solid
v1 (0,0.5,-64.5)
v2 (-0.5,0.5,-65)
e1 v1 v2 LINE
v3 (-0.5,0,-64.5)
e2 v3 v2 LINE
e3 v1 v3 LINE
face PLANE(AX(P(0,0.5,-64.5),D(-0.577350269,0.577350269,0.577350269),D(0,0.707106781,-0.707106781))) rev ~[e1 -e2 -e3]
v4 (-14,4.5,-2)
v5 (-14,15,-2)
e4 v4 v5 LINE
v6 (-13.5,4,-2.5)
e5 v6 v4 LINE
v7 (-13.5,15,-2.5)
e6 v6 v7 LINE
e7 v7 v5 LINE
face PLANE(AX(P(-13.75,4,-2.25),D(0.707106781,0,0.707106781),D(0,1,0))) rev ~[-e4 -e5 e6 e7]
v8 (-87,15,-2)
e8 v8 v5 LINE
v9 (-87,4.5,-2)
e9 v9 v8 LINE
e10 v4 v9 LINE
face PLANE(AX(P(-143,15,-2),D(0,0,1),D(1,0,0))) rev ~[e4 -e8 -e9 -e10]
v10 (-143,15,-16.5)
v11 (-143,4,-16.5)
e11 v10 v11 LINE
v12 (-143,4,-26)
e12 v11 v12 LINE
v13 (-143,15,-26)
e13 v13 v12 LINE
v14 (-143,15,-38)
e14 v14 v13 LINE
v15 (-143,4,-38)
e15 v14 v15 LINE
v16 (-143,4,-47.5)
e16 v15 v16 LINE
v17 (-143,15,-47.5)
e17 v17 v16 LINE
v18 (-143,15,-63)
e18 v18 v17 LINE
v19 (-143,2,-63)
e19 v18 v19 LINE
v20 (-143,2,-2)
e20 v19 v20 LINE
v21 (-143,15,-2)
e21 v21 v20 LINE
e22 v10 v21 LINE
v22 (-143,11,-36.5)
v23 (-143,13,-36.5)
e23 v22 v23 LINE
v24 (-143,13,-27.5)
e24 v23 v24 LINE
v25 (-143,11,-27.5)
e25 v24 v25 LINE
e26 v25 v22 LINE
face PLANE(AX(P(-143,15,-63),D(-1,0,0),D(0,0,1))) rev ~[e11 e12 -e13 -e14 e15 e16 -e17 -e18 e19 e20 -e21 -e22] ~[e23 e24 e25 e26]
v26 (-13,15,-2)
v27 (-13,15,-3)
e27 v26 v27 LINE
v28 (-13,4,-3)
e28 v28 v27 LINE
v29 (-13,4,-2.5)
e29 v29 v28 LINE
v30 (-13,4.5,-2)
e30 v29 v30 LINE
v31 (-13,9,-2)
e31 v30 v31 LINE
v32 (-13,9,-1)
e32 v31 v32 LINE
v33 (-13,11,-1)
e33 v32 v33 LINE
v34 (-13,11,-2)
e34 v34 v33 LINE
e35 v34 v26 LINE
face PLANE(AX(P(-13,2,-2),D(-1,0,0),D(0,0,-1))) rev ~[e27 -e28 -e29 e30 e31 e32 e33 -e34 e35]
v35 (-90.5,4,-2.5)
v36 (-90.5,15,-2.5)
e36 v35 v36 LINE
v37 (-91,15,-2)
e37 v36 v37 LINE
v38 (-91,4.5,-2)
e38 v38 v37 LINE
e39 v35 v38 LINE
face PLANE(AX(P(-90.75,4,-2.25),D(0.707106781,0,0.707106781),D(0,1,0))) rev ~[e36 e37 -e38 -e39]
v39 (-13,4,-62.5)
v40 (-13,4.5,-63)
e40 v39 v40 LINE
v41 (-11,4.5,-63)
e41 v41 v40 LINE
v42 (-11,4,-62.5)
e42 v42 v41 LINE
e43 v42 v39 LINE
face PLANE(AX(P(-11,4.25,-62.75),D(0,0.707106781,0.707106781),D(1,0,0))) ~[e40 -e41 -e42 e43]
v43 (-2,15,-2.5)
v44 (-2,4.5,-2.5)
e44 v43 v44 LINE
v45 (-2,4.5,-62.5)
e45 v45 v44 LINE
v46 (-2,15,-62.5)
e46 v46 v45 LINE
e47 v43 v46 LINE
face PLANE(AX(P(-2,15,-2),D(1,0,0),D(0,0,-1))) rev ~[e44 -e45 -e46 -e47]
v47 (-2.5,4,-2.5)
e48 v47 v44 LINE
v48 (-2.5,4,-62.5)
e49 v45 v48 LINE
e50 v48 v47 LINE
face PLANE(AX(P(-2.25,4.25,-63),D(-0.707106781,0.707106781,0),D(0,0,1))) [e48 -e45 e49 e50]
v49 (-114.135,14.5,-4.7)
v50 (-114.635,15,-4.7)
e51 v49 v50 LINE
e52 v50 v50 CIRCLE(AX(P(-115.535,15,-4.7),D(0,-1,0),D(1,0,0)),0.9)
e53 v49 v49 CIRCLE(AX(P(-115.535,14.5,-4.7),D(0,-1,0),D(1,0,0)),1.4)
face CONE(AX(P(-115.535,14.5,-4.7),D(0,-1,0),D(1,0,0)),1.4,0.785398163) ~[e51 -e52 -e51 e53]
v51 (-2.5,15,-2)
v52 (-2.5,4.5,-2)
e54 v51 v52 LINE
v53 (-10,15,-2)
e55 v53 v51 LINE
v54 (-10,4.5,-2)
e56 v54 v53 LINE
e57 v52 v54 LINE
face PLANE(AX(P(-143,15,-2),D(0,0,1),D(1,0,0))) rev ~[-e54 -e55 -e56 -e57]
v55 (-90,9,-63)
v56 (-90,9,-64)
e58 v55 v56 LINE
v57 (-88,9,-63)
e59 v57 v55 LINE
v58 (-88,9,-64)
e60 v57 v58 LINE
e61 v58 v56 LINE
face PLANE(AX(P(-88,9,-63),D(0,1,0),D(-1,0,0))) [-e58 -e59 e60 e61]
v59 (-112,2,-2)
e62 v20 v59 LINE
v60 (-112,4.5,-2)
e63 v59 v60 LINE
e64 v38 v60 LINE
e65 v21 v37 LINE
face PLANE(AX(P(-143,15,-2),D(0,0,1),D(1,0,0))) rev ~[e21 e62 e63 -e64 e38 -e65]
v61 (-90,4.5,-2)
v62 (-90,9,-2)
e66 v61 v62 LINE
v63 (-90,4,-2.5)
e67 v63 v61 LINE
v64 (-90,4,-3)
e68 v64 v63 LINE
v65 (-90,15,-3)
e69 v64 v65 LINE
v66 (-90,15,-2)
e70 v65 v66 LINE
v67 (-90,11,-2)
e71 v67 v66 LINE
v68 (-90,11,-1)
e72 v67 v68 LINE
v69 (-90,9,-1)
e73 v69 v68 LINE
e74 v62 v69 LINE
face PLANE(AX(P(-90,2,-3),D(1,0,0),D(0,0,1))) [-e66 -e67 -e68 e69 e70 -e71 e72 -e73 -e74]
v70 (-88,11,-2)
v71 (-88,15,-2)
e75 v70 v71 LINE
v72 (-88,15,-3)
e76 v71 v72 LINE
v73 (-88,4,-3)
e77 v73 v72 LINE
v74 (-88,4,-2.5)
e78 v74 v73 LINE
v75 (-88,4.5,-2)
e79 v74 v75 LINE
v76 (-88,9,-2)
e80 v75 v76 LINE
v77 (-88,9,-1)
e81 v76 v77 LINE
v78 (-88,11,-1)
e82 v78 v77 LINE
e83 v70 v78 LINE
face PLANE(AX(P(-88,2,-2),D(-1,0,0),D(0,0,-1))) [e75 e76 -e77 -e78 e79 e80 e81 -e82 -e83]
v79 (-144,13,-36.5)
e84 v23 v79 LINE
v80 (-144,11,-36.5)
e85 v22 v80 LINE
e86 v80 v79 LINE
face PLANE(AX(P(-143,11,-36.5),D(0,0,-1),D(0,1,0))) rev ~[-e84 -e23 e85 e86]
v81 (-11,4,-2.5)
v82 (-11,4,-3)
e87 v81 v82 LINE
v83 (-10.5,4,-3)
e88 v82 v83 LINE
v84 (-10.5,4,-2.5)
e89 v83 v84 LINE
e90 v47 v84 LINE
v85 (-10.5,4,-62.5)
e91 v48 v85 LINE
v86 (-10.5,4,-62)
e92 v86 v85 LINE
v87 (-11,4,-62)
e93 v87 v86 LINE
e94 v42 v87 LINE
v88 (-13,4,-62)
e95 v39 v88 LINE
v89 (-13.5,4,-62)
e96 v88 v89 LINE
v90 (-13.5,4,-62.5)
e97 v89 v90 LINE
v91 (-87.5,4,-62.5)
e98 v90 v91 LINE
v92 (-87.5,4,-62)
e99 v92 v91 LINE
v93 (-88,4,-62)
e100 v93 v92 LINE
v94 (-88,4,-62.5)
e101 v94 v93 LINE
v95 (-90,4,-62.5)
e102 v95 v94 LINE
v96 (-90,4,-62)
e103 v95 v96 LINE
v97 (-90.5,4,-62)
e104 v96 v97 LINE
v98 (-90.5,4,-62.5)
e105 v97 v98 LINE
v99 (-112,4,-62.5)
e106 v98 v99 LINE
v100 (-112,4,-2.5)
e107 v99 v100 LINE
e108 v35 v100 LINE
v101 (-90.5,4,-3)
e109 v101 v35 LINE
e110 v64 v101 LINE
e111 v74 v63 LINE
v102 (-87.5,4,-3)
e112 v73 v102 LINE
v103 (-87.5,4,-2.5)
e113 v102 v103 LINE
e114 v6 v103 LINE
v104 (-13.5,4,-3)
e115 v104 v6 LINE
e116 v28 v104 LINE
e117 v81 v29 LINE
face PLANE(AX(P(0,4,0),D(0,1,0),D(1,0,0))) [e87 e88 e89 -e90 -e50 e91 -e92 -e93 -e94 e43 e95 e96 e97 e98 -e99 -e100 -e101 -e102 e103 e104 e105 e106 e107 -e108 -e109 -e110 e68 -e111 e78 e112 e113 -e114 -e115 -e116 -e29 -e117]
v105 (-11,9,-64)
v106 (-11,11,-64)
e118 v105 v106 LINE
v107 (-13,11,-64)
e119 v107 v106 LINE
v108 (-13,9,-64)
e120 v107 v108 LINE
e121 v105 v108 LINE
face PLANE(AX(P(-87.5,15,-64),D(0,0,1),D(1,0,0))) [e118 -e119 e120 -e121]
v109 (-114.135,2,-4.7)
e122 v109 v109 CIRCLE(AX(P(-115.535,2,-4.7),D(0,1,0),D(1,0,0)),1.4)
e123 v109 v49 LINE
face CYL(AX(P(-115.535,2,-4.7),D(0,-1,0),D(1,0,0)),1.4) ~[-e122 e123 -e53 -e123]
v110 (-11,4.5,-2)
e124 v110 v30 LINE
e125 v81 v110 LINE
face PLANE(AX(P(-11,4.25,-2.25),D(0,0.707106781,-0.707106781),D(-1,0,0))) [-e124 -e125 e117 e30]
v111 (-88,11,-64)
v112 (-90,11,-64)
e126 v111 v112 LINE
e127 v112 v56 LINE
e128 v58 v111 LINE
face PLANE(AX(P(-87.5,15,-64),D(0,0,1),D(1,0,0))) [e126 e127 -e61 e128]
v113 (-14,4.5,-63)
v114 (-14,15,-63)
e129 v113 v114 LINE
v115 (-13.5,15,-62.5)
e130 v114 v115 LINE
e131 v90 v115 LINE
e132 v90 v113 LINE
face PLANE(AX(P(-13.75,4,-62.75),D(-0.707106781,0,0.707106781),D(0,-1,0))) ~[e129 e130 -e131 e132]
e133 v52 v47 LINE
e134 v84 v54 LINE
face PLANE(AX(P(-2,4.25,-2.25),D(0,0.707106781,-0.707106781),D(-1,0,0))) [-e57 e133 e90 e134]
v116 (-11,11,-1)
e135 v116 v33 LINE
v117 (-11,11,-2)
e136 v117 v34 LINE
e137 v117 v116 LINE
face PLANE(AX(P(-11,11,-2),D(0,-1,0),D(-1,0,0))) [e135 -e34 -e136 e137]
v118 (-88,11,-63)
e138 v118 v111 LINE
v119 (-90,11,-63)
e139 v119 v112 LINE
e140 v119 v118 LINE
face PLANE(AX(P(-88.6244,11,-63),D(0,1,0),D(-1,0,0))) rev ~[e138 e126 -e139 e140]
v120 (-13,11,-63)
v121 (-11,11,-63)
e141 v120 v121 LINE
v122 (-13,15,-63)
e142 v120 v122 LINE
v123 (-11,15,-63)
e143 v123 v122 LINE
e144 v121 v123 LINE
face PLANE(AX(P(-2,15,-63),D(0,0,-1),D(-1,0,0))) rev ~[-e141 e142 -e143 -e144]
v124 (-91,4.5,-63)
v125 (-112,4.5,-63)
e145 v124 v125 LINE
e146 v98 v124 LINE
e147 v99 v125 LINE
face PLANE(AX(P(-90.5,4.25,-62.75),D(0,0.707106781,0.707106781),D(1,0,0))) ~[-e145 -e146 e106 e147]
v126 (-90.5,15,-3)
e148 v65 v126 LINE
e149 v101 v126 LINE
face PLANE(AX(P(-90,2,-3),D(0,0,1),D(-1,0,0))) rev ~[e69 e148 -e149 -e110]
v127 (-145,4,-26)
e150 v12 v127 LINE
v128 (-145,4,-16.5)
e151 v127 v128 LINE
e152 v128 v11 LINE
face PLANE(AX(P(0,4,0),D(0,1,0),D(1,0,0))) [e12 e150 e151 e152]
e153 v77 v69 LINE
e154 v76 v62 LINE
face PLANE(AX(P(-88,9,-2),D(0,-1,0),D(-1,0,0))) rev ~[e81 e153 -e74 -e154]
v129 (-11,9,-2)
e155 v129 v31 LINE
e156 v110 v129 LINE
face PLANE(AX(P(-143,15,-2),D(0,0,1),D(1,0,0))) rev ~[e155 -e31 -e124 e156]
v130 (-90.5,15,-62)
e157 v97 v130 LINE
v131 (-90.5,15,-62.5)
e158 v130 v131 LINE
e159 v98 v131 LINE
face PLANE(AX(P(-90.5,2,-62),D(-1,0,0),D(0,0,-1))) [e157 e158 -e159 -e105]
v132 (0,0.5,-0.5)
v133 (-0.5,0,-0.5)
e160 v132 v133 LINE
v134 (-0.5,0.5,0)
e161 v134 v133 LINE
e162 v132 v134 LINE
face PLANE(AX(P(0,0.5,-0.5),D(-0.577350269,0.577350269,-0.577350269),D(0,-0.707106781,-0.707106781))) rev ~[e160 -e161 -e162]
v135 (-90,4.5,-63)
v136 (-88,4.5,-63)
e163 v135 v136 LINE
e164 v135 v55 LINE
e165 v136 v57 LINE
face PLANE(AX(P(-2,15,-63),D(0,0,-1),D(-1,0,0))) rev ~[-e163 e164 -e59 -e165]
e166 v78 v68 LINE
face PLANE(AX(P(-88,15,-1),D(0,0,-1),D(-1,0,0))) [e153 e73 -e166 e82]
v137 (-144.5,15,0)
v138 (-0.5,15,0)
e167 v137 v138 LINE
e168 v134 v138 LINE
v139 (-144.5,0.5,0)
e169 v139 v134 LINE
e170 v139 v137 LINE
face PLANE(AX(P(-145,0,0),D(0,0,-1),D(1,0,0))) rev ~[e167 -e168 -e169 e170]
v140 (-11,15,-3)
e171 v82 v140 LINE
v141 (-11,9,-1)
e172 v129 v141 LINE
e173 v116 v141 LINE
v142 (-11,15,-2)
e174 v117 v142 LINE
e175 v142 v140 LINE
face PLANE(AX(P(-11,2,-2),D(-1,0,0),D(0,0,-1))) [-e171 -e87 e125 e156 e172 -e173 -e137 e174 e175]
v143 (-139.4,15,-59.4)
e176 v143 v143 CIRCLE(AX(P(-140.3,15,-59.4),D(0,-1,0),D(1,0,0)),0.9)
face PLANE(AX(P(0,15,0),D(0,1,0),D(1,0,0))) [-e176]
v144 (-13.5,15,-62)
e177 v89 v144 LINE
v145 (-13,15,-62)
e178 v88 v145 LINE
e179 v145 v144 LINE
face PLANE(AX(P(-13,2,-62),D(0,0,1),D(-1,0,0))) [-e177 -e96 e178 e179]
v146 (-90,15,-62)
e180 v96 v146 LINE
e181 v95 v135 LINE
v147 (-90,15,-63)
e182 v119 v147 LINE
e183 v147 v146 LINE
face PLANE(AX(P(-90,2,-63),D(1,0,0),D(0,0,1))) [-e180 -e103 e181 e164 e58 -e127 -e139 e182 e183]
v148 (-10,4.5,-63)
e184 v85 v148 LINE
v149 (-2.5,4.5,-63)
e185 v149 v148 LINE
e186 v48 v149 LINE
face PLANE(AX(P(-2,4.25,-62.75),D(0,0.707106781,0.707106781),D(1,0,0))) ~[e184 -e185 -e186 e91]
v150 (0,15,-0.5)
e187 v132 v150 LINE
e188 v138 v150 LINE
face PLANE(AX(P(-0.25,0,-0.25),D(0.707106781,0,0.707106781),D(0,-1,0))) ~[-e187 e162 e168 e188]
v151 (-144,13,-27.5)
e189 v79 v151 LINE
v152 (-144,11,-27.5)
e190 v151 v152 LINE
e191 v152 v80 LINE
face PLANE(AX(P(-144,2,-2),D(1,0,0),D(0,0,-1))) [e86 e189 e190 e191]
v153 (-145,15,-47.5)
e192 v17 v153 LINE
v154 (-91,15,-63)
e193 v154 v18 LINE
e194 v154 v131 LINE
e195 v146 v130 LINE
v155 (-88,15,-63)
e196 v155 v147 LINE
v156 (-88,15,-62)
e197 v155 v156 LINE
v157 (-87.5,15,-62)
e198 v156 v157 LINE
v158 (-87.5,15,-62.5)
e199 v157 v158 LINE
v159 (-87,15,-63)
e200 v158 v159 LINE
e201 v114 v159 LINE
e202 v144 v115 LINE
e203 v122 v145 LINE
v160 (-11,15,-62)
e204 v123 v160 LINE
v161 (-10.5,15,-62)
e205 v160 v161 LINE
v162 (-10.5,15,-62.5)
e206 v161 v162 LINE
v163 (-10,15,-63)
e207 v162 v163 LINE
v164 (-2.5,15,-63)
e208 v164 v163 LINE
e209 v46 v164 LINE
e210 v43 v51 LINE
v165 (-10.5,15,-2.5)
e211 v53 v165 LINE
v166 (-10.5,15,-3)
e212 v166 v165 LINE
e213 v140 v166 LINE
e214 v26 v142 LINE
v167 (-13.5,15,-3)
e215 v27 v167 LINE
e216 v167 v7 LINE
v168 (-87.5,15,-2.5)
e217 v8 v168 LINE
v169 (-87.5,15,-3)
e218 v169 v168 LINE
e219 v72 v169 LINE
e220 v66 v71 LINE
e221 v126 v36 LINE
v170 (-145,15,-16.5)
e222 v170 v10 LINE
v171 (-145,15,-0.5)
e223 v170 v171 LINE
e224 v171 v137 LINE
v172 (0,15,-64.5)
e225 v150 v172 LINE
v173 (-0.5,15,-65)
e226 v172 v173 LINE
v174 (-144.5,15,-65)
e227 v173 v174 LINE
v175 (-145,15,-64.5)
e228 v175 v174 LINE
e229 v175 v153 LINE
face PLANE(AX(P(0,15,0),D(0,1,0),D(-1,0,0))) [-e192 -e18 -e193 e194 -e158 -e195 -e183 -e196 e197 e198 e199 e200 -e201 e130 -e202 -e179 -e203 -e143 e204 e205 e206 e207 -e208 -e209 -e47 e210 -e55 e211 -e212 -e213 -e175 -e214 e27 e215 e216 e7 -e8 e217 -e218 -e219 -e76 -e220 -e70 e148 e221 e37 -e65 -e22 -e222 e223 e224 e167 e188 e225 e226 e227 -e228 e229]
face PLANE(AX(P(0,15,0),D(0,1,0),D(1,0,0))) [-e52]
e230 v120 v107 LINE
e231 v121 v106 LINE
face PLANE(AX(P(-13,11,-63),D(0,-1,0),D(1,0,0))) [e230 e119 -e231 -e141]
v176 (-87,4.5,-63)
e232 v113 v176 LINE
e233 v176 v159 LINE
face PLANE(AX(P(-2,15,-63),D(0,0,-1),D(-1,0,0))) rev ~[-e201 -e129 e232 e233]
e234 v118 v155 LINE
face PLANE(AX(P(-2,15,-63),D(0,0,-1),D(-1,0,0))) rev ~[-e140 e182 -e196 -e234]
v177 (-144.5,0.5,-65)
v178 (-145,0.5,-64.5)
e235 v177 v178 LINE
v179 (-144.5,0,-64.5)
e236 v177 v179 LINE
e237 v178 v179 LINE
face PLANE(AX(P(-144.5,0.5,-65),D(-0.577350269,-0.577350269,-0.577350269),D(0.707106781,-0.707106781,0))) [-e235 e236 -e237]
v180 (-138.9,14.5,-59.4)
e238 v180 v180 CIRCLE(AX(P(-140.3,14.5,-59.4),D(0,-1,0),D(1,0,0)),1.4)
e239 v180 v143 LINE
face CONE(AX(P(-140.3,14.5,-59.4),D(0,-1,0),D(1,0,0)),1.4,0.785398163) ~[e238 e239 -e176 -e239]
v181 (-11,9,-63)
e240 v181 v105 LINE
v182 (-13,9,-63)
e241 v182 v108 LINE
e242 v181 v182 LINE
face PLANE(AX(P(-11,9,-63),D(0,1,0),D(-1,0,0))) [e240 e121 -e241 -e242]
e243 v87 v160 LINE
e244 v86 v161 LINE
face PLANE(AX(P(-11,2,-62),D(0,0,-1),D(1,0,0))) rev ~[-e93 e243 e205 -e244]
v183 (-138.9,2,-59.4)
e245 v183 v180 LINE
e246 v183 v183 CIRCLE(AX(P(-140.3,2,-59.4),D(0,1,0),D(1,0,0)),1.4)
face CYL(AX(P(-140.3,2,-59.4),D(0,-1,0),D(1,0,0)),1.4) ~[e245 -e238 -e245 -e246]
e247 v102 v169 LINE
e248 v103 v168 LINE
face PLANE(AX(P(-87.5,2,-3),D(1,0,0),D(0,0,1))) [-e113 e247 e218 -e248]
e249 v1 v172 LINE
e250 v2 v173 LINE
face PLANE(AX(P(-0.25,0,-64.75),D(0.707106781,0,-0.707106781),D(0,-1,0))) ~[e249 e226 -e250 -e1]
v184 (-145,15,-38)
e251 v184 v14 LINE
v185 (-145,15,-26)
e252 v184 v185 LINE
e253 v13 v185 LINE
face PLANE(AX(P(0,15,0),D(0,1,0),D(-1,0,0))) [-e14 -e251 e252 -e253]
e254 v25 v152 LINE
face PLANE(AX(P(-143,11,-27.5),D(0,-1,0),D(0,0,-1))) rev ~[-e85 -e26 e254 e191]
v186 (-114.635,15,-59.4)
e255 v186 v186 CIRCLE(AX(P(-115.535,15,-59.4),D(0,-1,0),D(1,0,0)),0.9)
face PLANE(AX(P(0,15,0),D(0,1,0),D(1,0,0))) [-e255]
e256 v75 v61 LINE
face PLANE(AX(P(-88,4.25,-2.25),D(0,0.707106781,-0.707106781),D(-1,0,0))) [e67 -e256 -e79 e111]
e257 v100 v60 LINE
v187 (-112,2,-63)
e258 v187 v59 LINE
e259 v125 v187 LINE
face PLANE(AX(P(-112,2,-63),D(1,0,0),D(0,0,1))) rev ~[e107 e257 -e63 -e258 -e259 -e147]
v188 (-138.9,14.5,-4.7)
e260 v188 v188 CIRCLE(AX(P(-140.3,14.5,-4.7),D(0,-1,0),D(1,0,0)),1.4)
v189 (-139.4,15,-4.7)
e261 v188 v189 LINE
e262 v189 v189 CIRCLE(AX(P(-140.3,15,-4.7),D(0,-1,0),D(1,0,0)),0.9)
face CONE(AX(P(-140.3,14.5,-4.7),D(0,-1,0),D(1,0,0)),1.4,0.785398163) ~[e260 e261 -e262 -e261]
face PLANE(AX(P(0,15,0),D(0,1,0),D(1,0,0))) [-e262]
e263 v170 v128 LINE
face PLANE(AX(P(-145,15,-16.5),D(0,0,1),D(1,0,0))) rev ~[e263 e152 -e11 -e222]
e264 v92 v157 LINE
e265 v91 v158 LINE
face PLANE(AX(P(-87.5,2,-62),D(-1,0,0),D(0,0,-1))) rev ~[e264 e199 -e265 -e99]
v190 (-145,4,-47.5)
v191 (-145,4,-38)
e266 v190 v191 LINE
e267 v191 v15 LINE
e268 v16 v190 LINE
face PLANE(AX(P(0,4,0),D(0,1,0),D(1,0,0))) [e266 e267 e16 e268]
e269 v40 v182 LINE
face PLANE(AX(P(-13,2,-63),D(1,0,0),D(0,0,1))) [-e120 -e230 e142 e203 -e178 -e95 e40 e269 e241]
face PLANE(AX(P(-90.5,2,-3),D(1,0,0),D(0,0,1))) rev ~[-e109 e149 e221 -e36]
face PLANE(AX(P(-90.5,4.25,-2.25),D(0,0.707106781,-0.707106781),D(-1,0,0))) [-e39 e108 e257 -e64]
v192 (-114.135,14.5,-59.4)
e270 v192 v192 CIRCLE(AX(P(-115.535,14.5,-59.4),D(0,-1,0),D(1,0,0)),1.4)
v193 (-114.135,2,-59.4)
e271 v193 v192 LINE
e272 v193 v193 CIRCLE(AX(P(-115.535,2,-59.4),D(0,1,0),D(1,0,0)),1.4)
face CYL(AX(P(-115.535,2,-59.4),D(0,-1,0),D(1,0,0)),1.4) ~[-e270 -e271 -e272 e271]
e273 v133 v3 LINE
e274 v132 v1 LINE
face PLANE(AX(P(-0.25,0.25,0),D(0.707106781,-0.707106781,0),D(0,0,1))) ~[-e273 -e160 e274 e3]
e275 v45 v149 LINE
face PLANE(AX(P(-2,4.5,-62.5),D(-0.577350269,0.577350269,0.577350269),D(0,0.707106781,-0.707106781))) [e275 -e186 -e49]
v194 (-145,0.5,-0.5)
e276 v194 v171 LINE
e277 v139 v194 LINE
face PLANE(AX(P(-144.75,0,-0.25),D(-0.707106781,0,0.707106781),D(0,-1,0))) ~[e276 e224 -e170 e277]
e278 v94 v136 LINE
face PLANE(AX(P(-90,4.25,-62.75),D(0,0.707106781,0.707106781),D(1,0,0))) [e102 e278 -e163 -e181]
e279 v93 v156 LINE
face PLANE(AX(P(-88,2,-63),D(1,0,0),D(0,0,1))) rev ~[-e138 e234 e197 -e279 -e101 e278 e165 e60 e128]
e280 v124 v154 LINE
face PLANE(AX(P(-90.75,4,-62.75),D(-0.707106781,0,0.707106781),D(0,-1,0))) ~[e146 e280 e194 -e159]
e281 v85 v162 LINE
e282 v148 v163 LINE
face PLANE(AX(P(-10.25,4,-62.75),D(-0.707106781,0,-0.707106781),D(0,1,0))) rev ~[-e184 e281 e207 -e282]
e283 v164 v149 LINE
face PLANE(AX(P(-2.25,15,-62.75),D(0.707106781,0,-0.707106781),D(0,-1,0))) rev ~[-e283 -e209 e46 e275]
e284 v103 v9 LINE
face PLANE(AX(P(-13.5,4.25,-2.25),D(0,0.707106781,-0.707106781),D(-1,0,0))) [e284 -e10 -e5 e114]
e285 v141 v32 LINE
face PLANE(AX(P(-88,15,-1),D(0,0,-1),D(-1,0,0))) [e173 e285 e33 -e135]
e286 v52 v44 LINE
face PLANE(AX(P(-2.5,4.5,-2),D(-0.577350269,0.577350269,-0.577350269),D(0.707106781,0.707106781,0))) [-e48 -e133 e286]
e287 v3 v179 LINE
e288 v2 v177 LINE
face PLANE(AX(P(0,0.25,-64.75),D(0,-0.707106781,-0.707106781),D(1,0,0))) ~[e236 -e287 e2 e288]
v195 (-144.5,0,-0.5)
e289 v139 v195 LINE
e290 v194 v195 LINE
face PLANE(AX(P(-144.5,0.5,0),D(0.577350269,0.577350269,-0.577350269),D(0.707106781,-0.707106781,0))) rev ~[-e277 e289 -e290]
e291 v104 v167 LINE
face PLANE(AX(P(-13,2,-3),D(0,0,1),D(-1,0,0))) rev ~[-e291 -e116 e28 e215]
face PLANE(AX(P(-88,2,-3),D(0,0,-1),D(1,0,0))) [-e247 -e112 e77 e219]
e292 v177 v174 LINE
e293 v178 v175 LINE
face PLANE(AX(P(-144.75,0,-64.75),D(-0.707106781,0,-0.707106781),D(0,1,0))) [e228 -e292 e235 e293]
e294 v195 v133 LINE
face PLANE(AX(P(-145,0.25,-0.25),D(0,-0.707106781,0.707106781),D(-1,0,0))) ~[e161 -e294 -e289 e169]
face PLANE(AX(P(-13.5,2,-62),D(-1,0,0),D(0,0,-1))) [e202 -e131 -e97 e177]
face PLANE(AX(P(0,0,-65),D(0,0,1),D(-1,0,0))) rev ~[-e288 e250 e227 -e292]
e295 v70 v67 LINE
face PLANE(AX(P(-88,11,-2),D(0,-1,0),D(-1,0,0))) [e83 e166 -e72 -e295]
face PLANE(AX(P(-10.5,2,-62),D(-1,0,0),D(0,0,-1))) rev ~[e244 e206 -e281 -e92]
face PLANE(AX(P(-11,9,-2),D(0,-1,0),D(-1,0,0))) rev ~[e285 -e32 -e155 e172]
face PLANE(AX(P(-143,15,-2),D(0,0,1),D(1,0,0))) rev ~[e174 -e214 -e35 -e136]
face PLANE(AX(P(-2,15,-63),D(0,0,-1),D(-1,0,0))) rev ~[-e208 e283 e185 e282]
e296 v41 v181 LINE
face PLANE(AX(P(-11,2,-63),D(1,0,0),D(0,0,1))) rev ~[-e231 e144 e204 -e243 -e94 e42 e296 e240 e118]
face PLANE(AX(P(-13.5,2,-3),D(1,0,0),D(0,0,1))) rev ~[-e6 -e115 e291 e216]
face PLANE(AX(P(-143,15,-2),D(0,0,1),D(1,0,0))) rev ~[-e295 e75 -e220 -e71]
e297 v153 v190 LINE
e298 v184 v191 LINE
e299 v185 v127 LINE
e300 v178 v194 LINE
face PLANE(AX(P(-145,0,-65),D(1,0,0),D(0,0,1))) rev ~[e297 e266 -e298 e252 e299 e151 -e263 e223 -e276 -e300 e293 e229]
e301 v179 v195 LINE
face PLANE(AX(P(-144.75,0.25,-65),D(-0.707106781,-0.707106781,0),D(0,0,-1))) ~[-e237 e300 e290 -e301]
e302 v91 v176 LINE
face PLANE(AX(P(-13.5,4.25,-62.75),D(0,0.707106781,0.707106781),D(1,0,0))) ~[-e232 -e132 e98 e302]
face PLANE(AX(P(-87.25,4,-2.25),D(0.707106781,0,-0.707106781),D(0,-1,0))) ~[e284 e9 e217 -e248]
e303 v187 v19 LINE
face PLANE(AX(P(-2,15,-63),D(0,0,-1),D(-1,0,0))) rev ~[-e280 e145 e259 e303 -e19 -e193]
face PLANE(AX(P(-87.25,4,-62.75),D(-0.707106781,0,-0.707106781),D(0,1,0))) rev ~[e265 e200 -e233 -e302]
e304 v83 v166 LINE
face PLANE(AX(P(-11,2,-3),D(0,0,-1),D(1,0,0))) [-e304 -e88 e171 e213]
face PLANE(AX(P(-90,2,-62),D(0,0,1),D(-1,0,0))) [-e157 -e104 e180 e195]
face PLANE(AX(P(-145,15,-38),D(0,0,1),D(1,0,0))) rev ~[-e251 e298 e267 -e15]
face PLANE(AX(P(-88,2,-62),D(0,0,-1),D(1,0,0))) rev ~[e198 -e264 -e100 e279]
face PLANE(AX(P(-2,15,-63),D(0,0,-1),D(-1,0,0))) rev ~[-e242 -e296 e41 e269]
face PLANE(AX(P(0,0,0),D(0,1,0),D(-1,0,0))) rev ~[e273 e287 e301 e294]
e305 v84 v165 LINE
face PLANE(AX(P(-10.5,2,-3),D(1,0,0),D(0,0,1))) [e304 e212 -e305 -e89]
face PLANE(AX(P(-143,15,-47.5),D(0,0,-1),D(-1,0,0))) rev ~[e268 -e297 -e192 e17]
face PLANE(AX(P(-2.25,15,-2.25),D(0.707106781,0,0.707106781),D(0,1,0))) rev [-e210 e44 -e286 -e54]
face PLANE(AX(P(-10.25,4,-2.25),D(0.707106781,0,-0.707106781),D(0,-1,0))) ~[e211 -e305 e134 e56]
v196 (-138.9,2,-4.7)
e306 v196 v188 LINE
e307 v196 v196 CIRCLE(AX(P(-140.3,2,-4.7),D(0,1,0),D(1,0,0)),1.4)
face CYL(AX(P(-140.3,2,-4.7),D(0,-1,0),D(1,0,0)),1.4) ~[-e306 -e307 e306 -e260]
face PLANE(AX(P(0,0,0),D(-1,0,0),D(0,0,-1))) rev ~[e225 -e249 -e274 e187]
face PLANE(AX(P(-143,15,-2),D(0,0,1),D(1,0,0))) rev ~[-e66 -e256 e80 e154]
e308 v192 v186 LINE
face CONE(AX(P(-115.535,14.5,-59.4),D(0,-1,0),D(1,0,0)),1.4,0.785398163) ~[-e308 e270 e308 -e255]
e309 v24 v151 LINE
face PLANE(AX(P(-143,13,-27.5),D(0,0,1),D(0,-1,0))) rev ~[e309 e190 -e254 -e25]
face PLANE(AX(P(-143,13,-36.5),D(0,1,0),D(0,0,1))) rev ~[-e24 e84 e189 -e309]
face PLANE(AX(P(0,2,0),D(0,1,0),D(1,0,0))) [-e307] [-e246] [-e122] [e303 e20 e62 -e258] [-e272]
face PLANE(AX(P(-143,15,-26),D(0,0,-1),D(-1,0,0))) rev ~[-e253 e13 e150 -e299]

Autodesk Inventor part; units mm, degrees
ref_plane "YZ Plane" through (0, 0, 0) normal (1, 0, 0) x (0, 1, 0)
ref_plane "XZ Plane" through (0, 0, 0) normal (0, 1, 0) x (-1, 0, 0)
ref_plane "XY Plane" through (0, 0, 0) normal (0, 0, 1) x (1, 0, 0)
sketch "草图1" plane through (0, 0, 0) normal (0, 1, 0) x (-1, 0, 0)
  line L0 (0, 0) -> (0, -65)
  line L1 (0, -65) -> (145, -65)
  line L2 (145, -65) -> (145, 0)
  line L3 (145, 0) -> (0, 0)
  dimension "d0" = 65
  dimension "d2" = 145
extrude "拉伸1" add sketch "草图1" along normal blind 15
sketch "草图2" plane through (0, 15, 0) normal (0, 1, 0) x (1, 0, 0)
  line L0 (-2, 2) -> (-2, 63)
  line L1 (-2, 63) -> (-143, 63)
  line L2 (-143, 63) -> (-143, 2)
  line L3 (-143, 2) -> (-2, 2)
  point P0 (0, 0)
  dimension "d5" = 61
  dimension "d6" = 141
  dimension "d7" = 61
extrude "拉伸2" cut sketch "草图2" against normal blind 13
sketch "草图3" plane through (0, 15, 0) normal (0, 1, 0) x (1, 0, 0)
  line L0 (-2, 2) -> (-143, 2) projected
  line L1 (-143, 2) -> (-143, 16.5)
  line L2 (-143, 2) -> (-143, 63) projected
  line L3 (-143, 16.5) -> (-143, 26)
  line L4 (-143, 26) -> (-143, 38)
  line L5 (-143, 38) -> (-143, 47.5)
  line L6 (-143, 47.5) -> (-145, 47.5)
  line L7 (-145, 65) -> (-145, 0) projected
  line L8 (-145, 47.5) -> (-145, 38)
  line L9 (-145, 38) -> (-143, 38)
  line L10 (-143, 26) -> (-145, 26)
  line L11 (-145, 26) -> (-145, 16.5)
  line L12 (-145, 16.5) -> (-143, 16.5)
  point P0 (0, 0)
  dimension "d10" = 14.5
  dimension "d11" = 9.5
  dimension "d12" = 12
  dimension "d13" = 9.5
extrude "拉伸3" cut sketch "草图3" against normal blind 11 contours L12 L7 L10 L2 | L9 L7 L6 L2
sketch "草图4" plane through (0, 2, 0) normal (0, 1, 0) x (1, 0, 0)
  line L0 (-143, 2) -> (-143, 63) projected
  line L1 (-143, 2) -> (-140.3334, 2)
  line L2 (-2, 2) -> (-143, 2) projected
  line L3 (-143, 2) -> (-140.3, 2)
  line L4 (-140.3, 2) -> (-140.3, 4.7)
  circle A0 centre (-140.3, 4.7) radius 1.5
  line L5 (-140.3, 4.7) -> (-140.3, 59.4)
  circle A1 centre (-140.3, 59.4) radius 1.5
  line L6 (-2, 63) -> (-2, 2) projected
  line L7 (-2, 2) -> (-12, 2)
  line L8 (-12, 2) -> (-12, 63)
  line L9 (-2, 2) -> (-89, 2)
  line L10 (-89, 2) -> (-89, 63)
  line L11 (-143, 63) -> (-2, 63) projected
  line L12 (-89, 63) -> (-90, 63)
  line L13 (-89, 63) -> (-88, 63)
  line L14 (-89, 63) -> (-90, 63)
  line L15 (-87, 63) -> (-86, 63)
  line L16 (-89, 63) -> (-90, 63)
  line L17 (-87, 63) -> (-86, 63)
  line L18 (-89, 63) -> (-88, 63)
  line L19 (-88, 63) -> (-88, 62)
  line L20 (-88, 62) -> (-87.5, 62)
  line L21 (-87.5, 62) -> (-87.5, 63)
  line L22 (-90, 63) -> (-90, 62)
  line L23 (-90, 62) -> (-90.5, 62)
  line L24 (-90.5, 62) -> (-90.5, 63)
  line L25 (-89, 2) -> (-88, 2)
  line L26 (-88, 2) -> (-88, 3)
  line L27 (-88, 3) -> (-87.5, 3)
  line L28 (-87.5, 3) -> (-87.5, 2)
  line L29 (-90, 3) -> (-90, 2)
  line L30 (-90, 3) -> (-90.5, 3)
  line L31 (-90.5, 3) -> (-90.5, 2)
  line L32 (-12, 63) -> (-11, 63)
  line L33 (-11, 63) -> (-11, 62)
  line L34 (-11, 62) -> (-10.5, 62)
  line L35 (-10.5, 62) -> (-10.5, 63)
  line L36 (-12, 63) -> (-13, 63)
  line L37 (-13, 63) -> (-13, 62)
  line L38 (-13, 62) -> (-13.5, 62)
  line L39 (-13.5, 62) -> (-13.5, 63)
  line L40 (-12, 2) -> (-11, 2)
  line L41 (-11, 2) -> (-11, 3)
  line L42 (-11, 3) -> (-10.5, 3)
  line L43 (-10.5, 3) -> (-10.5, 2)
  line L44 (-12, 2) -> (-13, 2)
  line L45 (-13, 2) -> (-13, 3)
  line L46 (-13, 3) -> (-13.5, 3)
  line L47 (-13.5, 3) -> (-13.5, 2)
  line L48 (-140.3, 59.4) -> (-115.535, 59.4)
  line L49 (-115.535, 59.4) -> (-115.535, 4.7)
  circle A2 centre (-115.535, 59.4) radius 1.5
  circle A3 centre (-115.535, 4.7) radius 1.5
  circle A4 centre (-115.535, 4.7) radius 1.4
  circle A5 centre (-115.535, 59.4) radius 1.4
  circle A6 centre (-140.3, 59.4) radius 1.4
  circle A7 centre (-140.3, 4.7) radius 1.4
  point P0 (0, 0)
  dimension "d19" = 2.7
  dimension "d20" = 2.7
  dimension "d21" = 3
  dimension "d22" = 54.7
  dimension "d23" = 3
  dimension "d28" = 10
  dimension "d29" = 87
  dimension "d44" = 1
  dimension "d45" = 1
  dimension "d46" = 0.5
  dimension "d47" = 0.5
  dimension "d48" = 1
  dimension "d49" = 1
  dimension "d50" = 0.5
  dimension "d51" = 0.5
  dimension "d52" = 1
  dimension "d53" = 1
  dimension "d54" = 0.5
  dimension "d55" = 1
  dimension "d56" = 0.5
  dimension "d57" = 1
  dimension "d58" = 1
  dimension "d59" = 0.5
  dimension "d60" = 1
  dimension "d61" = 1
  dimension "d65" = 24.765
  dimension "d66" = 3
  dimension "d67" = 3
  dimension "d71" = 2.8
  dimension "d72" = 2.8
  dimension "d73" = 2.8
  dimension "d74" = 2.8
extrude "拉伸4" add sketch "草图4" along normal blind 13 contours A4 | L11 L22 L23 L24 | L31 L30 L29 L2 | A7 L5 L4 | L4 L5 A7 | L11 L21 L20 L19 | L26 L27 L28 L2 | A6 L48 L5 | L5 L48 A6 | L47 L46 L45 L2 | A5 L49 L48 | L48 L49 A5 | L11 L37 L38 L39 | L41 L42 L43 L2 | L11 L35 L34 L33
sketch "草图5" plane through (0, 2, 0) normal (0, 1, 0) x (1, 0, 0)
  line L0 (-2, 63) -> (-2, 2) projected
  line L1 (-2, 63) -> (-112, 63)
  line L2 (-90, 63) -> (-88, 63) projected
  circle A0 centre (-115.535, 59.4) radius 1.5 projected
  line L3 (-115.535, 59.4) -> (-112.8683, 59.4)
  line L4 (-112, 63) -> (-112, 2)
  line L5 (-90.5, 2) -> (-143, 2) projected
  line L6 (-112, 63) -> (-2, 63)
  line L7 (-2, 63) -> (-2, 2) projected
  line L8 (-2, 63) -> (-2, 2)
  line L9 (-2, 2) -> (-112, 2)
  line L10 (-145, 0) -> (0, 0) projected
  dimension "d64" = 110
  dimension "d68" = 2.6667
extrude "拉伸5" add sketch "草图5" along normal blind 2 contours L0 L9 L5 L4 L1
sketch "草图6" plane through (-87.5, 15, -63) normal (0, 0, 1) x (1, 0, 0)
  line L0 (-2.5, 0) -> (-0.5, 0) projected
  line L1 (-0.5, 0) -> (-0.5, -4)
  line L2 (-0.5, -11) -> (-0.5, 0) projected
  line L3 (-0.5, -4) -> (-2.5, -4)
  line L4 (-2.5, 0) -> (-2.5, -11) projected
  line L5 (-2.5, 0) -> (-2.5, -4)
  line L6 (0, 0) -> (74, 0) projected
  line L7 (0, 0) -> (0, -4)
  line L8 (0, -11) -> (0, 0) projected
  line L9 (-1.1244, -4) -> (0, -4)
  line L10 (0, 0) -> (0, -4)
  line L11 (-0.5, -4) -> (-0.5, -6)
  line L12 (-0.5, -6) -> (-2.5, -6)
  line L13 (74.5, 0) -> (74.5, -6)
  line L14 (74.5, 0) -> (74.5, -11) projected
  line L15 (74.5, -6) -> (74.5, -4)
  line L16 (74.5, -4) -> (76.5, -4)
  line L17 (76.5, -11) -> (76.5, 0) projected
  line L18 (76.5, -4) -> (76.5, -6)
  line L19 (76.5, -6) -> (74.5, -6)
  point P0 (87.5, -15)
  dimension "d75" = 4
  dimension "d76" = 2
  dimension "d77" = 6
  dimension "d78" = 2
extrude "拉伸6" cut sketch "草图6" against normal blind 1 contours L3 L2 L12 L4 | L16 L17 L19 L13
sketch "草图7" plane through (-88, 15, -2) normal (0, 0, -1) x (-1, 0, 0)
  line L0 (0, 0) -> (0, -6)
  line L1 (0, 0) -> (0, -11) projected
  line L2 (0, -6) -> (0, -4)
  line L3 (0, -4) -> (2, -4)
  line L4 (2, -11) -> (2, 0) projected
  line L5 (0, -6) -> (2, -6)
  line L6 (2, -6) -> (2, -4)
  line L7 (-77, 0) -> (-77, -6)
  line L8 (-77, 0) -> (-77, -11) projected
  line L9 (-77, -6) -> (-75, -6)
  line L10 (-75, -11) -> (-75, 0) projected
  line L11 (-77, -6) -> (-77, -4)
  line L12 (-77, -4) -> (-75, -4)
  line L13 (-75, -4) -> (-75, -6)
  point P0 (-88, -15)
  point P1 (-75, -4)
  dimension "d81" = 6
  dimension "d82" = 2
  dimension "d83" = 6
extrude "拉伸7" cut sketch "草图7" against normal blind 1
chamfer "倒角1" distance 0.5 angle 45 33 edges at (-116.935, 15, -4.7) (-141.7, 15, -4.7) (-116.935, 15, -59.4) (-141.7, 15, -59.4) (-145, 0, -32.5) (-145, 7.5, -65) (-72.5, 0, -65) (-145, 7.5, 0) (-72.5, 0, 0) (0, 7.5, 0) (0, 0, -32.5) (0, 7.5, -65) (-50.5, 4, -63) (-101.25, 4, -63) (-89, 4, -63) (-12, 4, -63) (-6.25, 4, -63) (-2, 4, -32.5) (-6.25, 4, -2) (-12, 4, -2) (-50.5, 4, -2) (-89, 4, -2) (-101.25, 4, -2) (-90.5, 9.5, -2) (-13.5, 9.5, -2) (-87.5, 9.5, -2) (-10.5, 9.5, -2) (-87.5, 9.5, -63) (-10.5, 9.5, -63) (-90.5, 9.5, -63) (-13.5, 9.5, -63) (-2, 9.5, -63) (-2, 9.5, -2)
sketch "草图8" plane through (-143, 2, -2) normal (1, 0, 0) x (0, 0, -1)
  line L0 (24, 13) -> (24, 2) projected
  line L1 (24, 13) -> (24, 9)
  line L2 (24, 9) -> (36, 9)
  line L3 (36, 2) -> (36, 13) projected
  line L4 (36, 9) -> (36, 11)
  line L5 (36, 11) -> (24, 11)
  line L6 (24, 11) -> (25.5, 11)
  line L7 (25.5, 11) -> (25.5, 9)
  line L8 (36, 9) -> (34.5, 9)
  line L9 (34.5, 9) -> (34.5, 11)
  point P0 (-2, -2)
  dimension "d89" = 4
  dimension "d90" = 2
  dimension "d91" = 1.5
  dimension "d92" = 1.5
extrude "拉伸8" cut sketch "草图8" against normal blind 1 contours L5 L9 L2 L7
properties part number "TOP"
